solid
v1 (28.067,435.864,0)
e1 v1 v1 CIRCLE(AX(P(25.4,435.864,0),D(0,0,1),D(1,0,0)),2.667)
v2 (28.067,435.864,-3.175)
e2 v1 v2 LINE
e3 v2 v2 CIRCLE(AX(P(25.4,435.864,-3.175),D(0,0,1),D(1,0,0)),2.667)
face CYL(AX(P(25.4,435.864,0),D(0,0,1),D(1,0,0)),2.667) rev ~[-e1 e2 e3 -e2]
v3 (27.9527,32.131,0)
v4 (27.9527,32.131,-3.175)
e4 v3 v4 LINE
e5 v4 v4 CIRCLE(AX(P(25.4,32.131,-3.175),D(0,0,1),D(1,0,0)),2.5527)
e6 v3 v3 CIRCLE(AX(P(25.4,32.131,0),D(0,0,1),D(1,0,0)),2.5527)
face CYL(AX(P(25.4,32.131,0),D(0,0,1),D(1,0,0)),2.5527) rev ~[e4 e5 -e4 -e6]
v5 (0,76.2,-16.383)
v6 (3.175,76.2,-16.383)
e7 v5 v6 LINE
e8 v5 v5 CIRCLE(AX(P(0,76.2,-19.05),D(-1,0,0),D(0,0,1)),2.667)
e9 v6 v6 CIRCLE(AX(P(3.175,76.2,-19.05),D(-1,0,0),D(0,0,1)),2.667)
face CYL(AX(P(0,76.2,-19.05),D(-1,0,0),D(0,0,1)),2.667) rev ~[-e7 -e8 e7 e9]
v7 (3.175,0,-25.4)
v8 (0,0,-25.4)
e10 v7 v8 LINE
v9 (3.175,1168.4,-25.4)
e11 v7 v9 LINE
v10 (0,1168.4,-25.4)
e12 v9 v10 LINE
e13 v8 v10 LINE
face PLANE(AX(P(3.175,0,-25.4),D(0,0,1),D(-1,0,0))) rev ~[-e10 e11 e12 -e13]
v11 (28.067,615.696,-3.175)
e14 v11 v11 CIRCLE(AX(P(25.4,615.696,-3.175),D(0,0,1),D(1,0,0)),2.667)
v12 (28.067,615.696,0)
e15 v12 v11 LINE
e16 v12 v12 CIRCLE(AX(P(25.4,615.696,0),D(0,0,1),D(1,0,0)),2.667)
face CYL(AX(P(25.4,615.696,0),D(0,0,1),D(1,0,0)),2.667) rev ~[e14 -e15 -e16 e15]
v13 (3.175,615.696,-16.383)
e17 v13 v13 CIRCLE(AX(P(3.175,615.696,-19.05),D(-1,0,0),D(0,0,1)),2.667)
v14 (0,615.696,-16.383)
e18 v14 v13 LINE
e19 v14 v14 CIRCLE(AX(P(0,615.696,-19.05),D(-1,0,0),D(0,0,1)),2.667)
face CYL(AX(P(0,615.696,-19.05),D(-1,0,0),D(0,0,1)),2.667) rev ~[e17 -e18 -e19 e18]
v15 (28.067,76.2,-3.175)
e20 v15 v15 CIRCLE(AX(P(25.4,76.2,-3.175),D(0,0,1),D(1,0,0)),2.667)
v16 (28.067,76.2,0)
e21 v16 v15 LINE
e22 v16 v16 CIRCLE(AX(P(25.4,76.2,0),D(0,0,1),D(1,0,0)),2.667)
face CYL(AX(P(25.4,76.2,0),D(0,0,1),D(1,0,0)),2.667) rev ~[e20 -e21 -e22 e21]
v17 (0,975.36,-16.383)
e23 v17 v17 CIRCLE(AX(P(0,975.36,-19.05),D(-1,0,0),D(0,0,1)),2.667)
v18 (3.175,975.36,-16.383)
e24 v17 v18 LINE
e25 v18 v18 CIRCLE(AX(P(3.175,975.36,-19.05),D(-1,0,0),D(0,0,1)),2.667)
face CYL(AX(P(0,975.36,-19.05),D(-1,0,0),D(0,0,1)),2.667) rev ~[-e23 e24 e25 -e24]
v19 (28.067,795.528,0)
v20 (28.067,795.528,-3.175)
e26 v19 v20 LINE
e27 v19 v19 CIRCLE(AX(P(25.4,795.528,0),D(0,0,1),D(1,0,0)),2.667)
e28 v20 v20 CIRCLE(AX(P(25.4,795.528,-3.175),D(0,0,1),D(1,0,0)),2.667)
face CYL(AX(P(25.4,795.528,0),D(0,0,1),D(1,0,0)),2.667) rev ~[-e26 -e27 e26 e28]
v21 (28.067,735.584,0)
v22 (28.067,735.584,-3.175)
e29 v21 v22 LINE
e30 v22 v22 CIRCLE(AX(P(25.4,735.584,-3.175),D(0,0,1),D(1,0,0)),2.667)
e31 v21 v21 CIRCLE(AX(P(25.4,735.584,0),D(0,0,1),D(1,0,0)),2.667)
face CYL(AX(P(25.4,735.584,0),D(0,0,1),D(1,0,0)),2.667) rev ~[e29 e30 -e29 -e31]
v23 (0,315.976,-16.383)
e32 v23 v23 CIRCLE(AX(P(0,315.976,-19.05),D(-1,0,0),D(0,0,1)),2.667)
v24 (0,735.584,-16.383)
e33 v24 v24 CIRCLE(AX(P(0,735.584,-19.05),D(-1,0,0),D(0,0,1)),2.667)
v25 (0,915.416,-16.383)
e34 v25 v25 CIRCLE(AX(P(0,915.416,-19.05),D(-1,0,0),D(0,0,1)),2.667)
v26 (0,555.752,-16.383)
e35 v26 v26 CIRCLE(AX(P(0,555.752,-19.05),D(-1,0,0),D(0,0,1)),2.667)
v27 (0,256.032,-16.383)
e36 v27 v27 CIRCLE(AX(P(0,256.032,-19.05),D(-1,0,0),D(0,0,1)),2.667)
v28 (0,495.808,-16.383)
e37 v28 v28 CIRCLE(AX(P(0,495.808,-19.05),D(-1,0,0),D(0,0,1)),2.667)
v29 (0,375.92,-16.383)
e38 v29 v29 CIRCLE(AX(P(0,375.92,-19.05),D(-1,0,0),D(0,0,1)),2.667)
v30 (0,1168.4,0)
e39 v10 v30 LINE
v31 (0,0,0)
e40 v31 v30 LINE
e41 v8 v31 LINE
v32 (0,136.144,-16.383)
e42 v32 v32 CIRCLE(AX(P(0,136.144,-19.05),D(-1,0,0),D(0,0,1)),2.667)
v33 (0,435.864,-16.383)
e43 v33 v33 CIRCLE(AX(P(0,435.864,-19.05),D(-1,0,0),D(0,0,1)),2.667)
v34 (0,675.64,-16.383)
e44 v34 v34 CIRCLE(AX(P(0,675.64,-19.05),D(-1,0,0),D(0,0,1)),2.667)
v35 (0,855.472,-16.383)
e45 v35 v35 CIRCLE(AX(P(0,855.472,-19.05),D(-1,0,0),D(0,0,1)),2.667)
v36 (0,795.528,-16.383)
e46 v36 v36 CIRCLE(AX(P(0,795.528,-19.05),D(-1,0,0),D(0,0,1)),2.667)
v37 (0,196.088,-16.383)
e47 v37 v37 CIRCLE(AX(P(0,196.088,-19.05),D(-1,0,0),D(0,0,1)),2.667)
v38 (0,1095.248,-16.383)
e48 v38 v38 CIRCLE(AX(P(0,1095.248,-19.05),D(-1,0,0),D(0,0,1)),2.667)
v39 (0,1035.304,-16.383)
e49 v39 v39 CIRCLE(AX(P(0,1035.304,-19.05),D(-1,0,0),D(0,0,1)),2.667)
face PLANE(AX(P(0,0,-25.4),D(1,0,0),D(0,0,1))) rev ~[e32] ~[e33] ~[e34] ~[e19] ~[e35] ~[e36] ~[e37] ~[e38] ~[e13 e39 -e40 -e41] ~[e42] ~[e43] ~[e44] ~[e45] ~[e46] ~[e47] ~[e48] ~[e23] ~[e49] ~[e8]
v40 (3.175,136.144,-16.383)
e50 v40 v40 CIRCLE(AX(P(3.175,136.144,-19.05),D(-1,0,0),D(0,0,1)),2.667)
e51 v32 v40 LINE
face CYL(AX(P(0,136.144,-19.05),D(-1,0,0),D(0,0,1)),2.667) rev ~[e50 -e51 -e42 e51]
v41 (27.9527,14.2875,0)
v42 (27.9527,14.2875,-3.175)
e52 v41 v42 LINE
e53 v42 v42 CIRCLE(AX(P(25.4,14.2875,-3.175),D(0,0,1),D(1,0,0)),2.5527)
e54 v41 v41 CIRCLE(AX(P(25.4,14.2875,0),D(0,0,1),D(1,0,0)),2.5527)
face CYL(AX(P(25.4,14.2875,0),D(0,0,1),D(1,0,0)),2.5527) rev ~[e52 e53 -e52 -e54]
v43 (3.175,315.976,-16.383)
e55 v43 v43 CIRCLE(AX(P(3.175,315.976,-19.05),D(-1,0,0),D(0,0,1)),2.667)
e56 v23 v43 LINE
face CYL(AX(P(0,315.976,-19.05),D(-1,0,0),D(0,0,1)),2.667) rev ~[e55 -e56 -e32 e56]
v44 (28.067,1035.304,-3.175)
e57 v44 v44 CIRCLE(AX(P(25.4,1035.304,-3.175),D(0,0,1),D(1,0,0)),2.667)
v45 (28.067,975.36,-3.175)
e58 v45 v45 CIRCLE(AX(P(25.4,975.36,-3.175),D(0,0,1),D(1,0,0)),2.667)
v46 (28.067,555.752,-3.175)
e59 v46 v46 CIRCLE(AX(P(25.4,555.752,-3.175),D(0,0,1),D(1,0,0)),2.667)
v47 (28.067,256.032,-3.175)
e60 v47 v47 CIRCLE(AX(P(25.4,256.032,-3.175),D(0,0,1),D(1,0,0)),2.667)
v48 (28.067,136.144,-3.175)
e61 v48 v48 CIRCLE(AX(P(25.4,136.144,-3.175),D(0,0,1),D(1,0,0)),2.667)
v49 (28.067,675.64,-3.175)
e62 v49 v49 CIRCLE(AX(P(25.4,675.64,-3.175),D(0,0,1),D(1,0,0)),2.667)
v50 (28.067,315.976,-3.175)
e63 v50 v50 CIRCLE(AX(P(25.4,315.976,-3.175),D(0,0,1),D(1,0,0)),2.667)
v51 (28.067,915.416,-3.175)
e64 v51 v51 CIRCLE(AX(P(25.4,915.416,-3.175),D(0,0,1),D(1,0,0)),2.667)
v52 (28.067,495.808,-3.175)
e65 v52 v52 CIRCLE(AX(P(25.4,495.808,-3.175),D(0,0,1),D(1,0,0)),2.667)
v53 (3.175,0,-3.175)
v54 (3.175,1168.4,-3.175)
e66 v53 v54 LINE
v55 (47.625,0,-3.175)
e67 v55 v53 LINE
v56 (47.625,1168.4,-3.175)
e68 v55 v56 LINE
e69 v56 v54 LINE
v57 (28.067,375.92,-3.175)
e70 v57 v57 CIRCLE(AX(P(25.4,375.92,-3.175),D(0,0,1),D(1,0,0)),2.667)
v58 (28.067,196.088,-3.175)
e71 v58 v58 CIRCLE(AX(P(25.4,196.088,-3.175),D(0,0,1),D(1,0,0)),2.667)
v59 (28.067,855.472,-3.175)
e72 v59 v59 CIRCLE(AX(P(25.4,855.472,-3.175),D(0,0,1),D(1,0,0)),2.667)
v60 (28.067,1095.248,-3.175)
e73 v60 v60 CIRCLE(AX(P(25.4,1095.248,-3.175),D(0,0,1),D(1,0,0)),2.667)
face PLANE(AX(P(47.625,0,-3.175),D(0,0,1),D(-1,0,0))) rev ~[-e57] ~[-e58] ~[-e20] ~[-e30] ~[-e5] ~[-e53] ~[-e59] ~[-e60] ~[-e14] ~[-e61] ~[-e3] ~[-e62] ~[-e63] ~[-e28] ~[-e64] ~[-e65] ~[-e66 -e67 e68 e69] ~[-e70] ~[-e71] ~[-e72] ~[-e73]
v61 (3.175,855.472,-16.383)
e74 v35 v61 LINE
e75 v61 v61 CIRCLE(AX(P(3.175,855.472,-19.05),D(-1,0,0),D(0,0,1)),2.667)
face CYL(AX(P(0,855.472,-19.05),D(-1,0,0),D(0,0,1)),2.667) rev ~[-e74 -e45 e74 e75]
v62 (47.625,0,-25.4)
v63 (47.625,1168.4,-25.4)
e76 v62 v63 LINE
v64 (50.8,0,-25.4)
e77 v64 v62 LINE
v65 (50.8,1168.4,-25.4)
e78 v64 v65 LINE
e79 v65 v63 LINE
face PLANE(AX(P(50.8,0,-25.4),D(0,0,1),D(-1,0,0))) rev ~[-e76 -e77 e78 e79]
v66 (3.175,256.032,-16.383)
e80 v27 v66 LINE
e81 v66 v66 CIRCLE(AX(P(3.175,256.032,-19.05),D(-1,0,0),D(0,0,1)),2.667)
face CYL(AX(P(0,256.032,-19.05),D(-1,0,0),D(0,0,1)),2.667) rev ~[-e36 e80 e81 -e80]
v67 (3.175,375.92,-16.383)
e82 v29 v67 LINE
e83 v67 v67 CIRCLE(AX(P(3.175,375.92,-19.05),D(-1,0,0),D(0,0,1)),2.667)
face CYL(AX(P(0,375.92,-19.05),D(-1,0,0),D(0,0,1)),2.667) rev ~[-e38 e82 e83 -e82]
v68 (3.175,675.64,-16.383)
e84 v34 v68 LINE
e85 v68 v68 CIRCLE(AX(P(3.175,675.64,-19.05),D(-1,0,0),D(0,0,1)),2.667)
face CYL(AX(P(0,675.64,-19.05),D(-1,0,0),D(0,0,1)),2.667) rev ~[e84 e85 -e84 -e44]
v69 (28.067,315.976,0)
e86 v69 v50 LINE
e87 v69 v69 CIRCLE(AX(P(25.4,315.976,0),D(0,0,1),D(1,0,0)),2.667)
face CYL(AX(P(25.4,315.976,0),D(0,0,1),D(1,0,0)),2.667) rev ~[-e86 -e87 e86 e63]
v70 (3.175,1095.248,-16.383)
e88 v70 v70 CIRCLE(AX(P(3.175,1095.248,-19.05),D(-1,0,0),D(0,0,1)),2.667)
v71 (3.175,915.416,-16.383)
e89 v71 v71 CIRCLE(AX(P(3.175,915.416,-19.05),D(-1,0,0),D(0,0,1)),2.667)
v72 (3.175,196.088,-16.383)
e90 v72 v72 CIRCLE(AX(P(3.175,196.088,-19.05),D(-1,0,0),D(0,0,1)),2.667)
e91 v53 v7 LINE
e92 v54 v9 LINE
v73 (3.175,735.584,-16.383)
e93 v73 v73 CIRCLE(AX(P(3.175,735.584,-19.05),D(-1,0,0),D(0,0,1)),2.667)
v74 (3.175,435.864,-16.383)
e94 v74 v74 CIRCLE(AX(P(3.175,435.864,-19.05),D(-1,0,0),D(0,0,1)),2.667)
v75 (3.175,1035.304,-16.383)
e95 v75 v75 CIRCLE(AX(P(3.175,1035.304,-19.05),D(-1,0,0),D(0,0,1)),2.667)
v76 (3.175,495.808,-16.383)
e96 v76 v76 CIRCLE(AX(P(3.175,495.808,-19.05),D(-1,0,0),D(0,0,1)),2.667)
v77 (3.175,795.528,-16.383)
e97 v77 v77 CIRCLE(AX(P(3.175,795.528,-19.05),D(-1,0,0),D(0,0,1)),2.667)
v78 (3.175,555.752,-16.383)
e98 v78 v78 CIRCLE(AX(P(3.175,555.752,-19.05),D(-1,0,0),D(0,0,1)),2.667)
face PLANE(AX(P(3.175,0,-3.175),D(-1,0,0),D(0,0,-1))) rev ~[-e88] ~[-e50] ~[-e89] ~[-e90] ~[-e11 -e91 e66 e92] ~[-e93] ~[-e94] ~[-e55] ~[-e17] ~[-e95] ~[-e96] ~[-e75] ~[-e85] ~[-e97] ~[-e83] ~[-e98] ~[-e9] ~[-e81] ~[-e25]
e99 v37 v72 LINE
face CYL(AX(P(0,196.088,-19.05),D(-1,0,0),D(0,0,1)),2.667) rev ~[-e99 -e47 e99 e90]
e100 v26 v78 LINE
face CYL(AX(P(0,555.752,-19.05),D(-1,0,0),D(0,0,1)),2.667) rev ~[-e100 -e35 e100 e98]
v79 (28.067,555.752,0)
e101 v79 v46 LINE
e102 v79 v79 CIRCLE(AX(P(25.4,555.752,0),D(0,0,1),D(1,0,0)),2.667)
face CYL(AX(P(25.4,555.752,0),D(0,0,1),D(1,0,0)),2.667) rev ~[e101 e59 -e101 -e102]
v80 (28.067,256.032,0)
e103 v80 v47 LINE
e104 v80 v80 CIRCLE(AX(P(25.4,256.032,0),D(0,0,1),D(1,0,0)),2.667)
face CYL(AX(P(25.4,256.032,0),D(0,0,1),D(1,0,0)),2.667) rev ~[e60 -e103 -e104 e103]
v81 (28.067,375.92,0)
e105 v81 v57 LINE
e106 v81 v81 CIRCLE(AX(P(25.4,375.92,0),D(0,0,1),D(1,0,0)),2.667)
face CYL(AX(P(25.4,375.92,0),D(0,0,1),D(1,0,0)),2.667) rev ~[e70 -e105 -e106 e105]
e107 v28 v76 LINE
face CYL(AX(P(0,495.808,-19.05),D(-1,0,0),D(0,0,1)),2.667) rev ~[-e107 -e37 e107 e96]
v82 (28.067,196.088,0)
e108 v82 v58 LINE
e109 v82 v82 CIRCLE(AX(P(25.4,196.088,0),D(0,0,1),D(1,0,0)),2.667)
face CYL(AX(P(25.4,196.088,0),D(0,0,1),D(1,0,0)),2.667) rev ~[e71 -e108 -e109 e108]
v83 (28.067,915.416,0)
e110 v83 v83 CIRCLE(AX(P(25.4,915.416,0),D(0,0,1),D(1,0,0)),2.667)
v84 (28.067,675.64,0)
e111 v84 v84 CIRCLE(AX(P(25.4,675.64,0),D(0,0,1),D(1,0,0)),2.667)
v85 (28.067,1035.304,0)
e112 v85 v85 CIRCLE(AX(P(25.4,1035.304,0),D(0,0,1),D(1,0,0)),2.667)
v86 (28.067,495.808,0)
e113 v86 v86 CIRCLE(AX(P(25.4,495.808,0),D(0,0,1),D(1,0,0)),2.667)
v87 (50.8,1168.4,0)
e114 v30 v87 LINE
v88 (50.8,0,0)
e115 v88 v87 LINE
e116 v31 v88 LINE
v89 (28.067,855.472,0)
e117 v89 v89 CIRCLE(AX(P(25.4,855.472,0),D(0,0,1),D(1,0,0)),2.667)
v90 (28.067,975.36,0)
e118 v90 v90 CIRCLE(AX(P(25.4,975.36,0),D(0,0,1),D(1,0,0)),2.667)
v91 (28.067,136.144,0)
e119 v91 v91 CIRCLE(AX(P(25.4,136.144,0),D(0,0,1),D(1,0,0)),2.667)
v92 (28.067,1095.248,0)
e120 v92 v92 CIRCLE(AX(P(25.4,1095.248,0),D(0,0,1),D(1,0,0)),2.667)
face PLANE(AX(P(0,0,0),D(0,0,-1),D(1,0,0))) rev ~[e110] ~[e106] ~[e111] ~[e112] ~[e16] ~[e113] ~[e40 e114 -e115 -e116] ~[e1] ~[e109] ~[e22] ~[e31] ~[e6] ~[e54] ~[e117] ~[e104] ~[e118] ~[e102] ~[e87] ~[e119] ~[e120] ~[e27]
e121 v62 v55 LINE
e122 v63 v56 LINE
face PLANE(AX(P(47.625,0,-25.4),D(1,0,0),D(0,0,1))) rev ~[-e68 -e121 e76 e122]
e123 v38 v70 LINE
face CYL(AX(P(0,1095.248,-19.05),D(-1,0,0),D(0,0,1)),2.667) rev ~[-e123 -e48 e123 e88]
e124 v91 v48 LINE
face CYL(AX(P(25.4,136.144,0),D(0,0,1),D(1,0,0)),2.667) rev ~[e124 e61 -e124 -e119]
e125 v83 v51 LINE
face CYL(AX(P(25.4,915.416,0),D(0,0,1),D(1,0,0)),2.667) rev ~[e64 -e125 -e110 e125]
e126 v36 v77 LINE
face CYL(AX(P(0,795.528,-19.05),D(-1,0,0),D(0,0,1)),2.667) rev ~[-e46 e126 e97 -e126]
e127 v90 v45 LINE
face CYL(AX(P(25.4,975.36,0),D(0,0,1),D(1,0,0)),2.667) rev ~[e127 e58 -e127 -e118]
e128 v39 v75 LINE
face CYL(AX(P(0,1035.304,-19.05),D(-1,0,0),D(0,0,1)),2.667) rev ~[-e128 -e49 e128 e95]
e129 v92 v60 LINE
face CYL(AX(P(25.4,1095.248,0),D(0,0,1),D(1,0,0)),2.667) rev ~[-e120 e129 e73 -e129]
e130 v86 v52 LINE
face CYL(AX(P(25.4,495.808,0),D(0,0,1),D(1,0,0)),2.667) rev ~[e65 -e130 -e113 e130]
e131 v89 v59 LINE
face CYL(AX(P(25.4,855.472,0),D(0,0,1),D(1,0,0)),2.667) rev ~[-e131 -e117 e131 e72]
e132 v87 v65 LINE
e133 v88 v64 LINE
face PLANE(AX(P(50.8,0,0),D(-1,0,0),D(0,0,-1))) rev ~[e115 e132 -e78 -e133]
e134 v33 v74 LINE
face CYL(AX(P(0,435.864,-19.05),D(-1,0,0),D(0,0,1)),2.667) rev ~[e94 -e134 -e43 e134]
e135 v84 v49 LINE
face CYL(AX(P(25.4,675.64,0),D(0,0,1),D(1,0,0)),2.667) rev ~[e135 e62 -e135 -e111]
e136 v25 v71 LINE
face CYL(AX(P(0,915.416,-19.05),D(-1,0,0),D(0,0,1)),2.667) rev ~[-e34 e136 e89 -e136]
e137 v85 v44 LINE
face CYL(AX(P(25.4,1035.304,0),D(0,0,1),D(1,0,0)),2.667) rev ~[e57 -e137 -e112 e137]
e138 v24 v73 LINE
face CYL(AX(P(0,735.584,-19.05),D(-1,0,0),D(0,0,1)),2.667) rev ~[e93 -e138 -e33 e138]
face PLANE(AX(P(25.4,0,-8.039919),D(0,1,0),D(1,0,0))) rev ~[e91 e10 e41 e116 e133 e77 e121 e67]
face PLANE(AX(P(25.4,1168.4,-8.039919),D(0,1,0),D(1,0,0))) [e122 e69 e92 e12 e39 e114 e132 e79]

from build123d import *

# Parameters (mm, degrees)
BOSS_EXTRUDE1_DEPTH = 1168.4
CUT_EXTRUDE1_REACH  = 27.4
SKETCH2_R           = 2.667
CUT_EXTRUDE2_REACH  = 27.4
SKETCH3_R           = 2.5527
CUT_EXTRUDE3_REACH  = 52.8
SKETCH4_R           = 2.667


with BuildPart() as part:
    # Sketch1 → Boss-Extrude1 (new body)
    with BuildSketch(Plane(origin=(0, 0, 0), x_dir=(1, 0, 0), z_dir=(0, 1, 0))):
        Polygon((3.175, 3.175), (3.175, 25.4), (0, 25.4), (0, 0), (50.8, 0), (50.8, 25.4), (47.625, 25.4), (47.625, 3.175), align=None)
    extrude(amount=BOSS_EXTRUDE1_DEPTH)

    # Sketch2 → Cut-Extrude1 (cut, up to next)
    with BuildSketch(Plane.XY, mode=Mode.PRIVATE) as cut_extrude1_sk1:
        with Locations((25.4, 76.2)):
            Circle(SKETCH2_R)
    cut_extrude1_tool1 = extrude(cut_extrude1_sk1.sketch, amount=-CUT_EXTRUDE1_REACH, mode=Mode.PRIVATE) & part.part
    add(cut_extrude1_tool1.solids().sort_by_distance((25.4, 76.2, 0))[0], mode=Mode.SUBTRACT)
    # Sketch2 → Cut-Extrude1 (cut, up to next)
    with BuildSketch(Plane.XY, mode=Mode.PRIVATE) as cut_extrude1_sk2:
        with Locations((25.4, 136.144)):
            Circle(SKETCH2_R)
    cut_extrude1_tool2 = extrude(cut_extrude1_sk2.sketch, amount=-CUT_EXTRUDE1_REACH, mode=Mode.PRIVATE) & part.part
    add(cut_extrude1_tool2.solids().sort_by_distance((25.4, 136.144, 0))[0], mode=Mode.SUBTRACT)
    # Sketch2 → Cut-Extrude1 (cut, up to next)
    with BuildSketch(Plane.XY, mode=Mode.PRIVATE) as cut_extrude1_sk3:
        with Locations((25.4, 196.088)):
            Circle(SKETCH2_R)
    cut_extrude1_tool3 = extrude(cut_extrude1_sk3.sketch, amount=-CUT_EXTRUDE1_REACH, mode=Mode.PRIVATE) & part.part
    add(cut_extrude1_tool3.solids().sort_by_distance((25.4, 196.088, 0))[0], mode=Mode.SUBTRACT)
    # Sketch2 → Cut-Extrude1 (cut, up to next)
    with BuildSketch(Plane.XY, mode=Mode.PRIVATE) as cut_extrude1_sk4:
        with Locations((25.4, 256.032)):
            Circle(SKETCH2_R)
    cut_extrude1_tool4 = extrude(cut_extrude1_sk4.sketch, amount=-CUT_EXTRUDE1_REACH, mode=Mode.PRIVATE) & part.part
    add(cut_extrude1_tool4.solids().sort_by_distance((25.4, 256.032, 0))[0], mode=Mode.SUBTRACT)
    # Sketch2 → Cut-Extrude1 (cut, up to next)
    with BuildSketch(Plane.XY, mode=Mode.PRIVATE) as cut_extrude1_sk5:
        with Locations((25.4, 315.976)):
            Circle(SKETCH2_R)
    cut_extrude1_tool5 = extrude(cut_extrude1_sk5.sketch, amount=-CUT_EXTRUDE1_REACH, mode=Mode.PRIVATE) & part.part
    add(cut_extrude1_tool5.solids().sort_by_distance((25.4, 315.976, 0))[0], mode=Mode.SUBTRACT)
    # Sketch2 → Cut-Extrude1 (cut, up to next)
    with BuildSketch(Plane.XY, mode=Mode.PRIVATE) as cut_extrude1_sk6:
        with Locations((25.4, 375.92)):
            Circle(SKETCH2_R)
    cut_extrude1_tool6 = extrude(cut_extrude1_sk6.sketch, amount=-CUT_EXTRUDE1_REACH, mode=Mode.PRIVATE) & part.part
    add(cut_extrude1_tool6.solids().sort_by_distance((25.4, 375.92, 0))[0], mode=Mode.SUBTRACT)
    # Sketch2 → Cut-Extrude1 (cut, up to next)
    with BuildSketch(Plane.XY, mode=Mode.PRIVATE) as cut_extrude1_sk7:
        with Locations((25.4, 435.864)):
            Circle(SKETCH2_R)
    cut_extrude1_tool7 = extrude(cut_extrude1_sk7.sketch, amount=-CUT_EXTRUDE1_REACH, mode=Mode.PRIVATE) & part.part
    add(cut_extrude1_tool7.solids().sort_by_distance((25.4, 435.864, 0))[0], mode=Mode.SUBTRACT)
    # Sketch2 → Cut-Extrude1 (cut, up to next)
    with BuildSketch(Plane.XY, mode=Mode.PRIVATE) as cut_extrude1_sk8:
        with Locations((25.4, 495.808)):
            Circle(SKETCH2_R)
    cut_extrude1_tool8 = extrude(cut_extrude1_sk8.sketch, amount=-CUT_EXTRUDE1_REACH, mode=Mode.PRIVATE) & part.part
    add(cut_extrude1_tool8.solids().sort_by_distance((25.4, 495.808, 0))[0], mode=Mode.SUBTRACT)
    # Sketch2 → Cut-Extrude1 (cut, up to next)
    with BuildSketch(Plane.XY, mode=Mode.PRIVATE) as cut_extrude1_sk9:
        with Locations((25.4, 555.752)):
            Circle(SKETCH2_R)
    cut_extrude1_tool9 = extrude(cut_extrude1_sk9.sketch, amount=-CUT_EXTRUDE1_REACH, mode=Mode.PRIVATE) & part.part
    add(cut_extrude1_tool9.solids().sort_by_distance((25.4, 555.752, 0))[0], mode=Mode.SUBTRACT)
    # Sketch2 → Cut-Extrude1 (cut, up to next)
    with BuildSketch(Plane.XY, mode=Mode.PRIVATE) as cut_extrude1_sk10:
        with Locations((25.4, 615.696)):
            Circle(SKETCH2_R)
    cut_extrude1_tool10 = extrude(cut_extrude1_sk10.sketch, amount=-CUT_EXTRUDE1_REACH, mode=Mode.PRIVATE) & part.part
    add(cut_extrude1_tool10.solids().sort_by_distance((25.4, 615.696, 0))[0], mode=Mode.SUBTRACT)
    # Sketch2 → Cut-Extrude1 (cut, up to next)
    with BuildSketch(Plane.XY, mode=Mode.PRIVATE) as cut_extrude1_sk11:
        with Locations((25.4, 675.64)):
            Circle(SKETCH2_R)
    cut_extrude1_tool11 = extrude(cut_extrude1_sk11.sketch, amount=-CUT_EXTRUDE1_REACH, mode=Mode.PRIVATE) & part.part
    add(cut_extrude1_tool11.solids().sort_by_distance((25.4, 675.64, 0))[0], mode=Mode.SUBTRACT)
    # Sketch2 → Cut-Extrude1 (cut, up to next)
    with BuildSketch(Plane.XY, mode=Mode.PRIVATE) as cut_extrude1_sk12:
        with Locations((25.4, 735.584)):
            Circle(SKETCH2_R)
    cut_extrude1_tool12 = extrude(cut_extrude1_sk12.sketch, amount=-CUT_EXTRUDE1_REACH, mode=Mode.PRIVATE) & part.part
    add(cut_extrude1_tool12.solids().sort_by_distance((25.4, 735.584, 0))[0], mode=Mode.SUBTRACT)
    # Sketch2 → Cut-Extrude1 (cut, up to next)
    with BuildSketch(Plane.XY, mode=Mode.PRIVATE) as cut_extrude1_sk13:
        with Locations((25.4, 795.528)):
            Circle(SKETCH2_R)
    cut_extrude1_tool13 = extrude(cut_extrude1_sk13.sketch, amount=-CUT_EXTRUDE1_REACH, mode=Mode.PRIVATE) & part.part
    add(cut_extrude1_tool13.solids().sort_by_distance((25.4, 795.528, 0))[0], mode=Mode.SUBTRACT)
    # Sketch2 → Cut-Extrude1 (cut, up to next)
    with BuildSketch(Plane.XY, mode=Mode.PRIVATE) as cut_extrude1_sk14:
        with Locations((25.4, 855.472)):
            Circle(SKETCH2_R)
    cut_extrude1_tool14 = extrude(cut_extrude1_sk14.sketch, amount=-CUT_EXTRUDE1_REACH, mode=Mode.PRIVATE) & part.part
    add(cut_extrude1_tool14.solids().sort_by_distance((25.4, 855.472, 0))[0], mode=Mode.SUBTRACT)
    # Sketch2 → Cut-Extrude1 (cut, up to next)
    with BuildSketch(Plane.XY, mode=Mode.PRIVATE) as cut_extrude1_sk15:
        with Locations((25.4, 915.416)):
            Circle(SKETCH2_R)
    cut_extrude1_tool15 = extrude(cut_extrude1_sk15.sketch, amount=-CUT_EXTRUDE1_REACH, mode=Mode.PRIVATE) & part.part
    add(cut_extrude1_tool15.solids().sort_by_distance((25.4, 915.416, 0))[0], mode=Mode.SUBTRACT)
    # Sketch2 → Cut-Extrude1 (cut, up to next)
    with BuildSketch(Plane.XY, mode=Mode.PRIVATE) as cut_extrude1_sk16:
        with Locations((25.4, 975.36)):
            Circle(SKETCH2_R)
    cut_extrude1_tool16 = extrude(cut_extrude1_sk16.sketch, amount=-CUT_EXTRUDE1_REACH, mode=Mode.PRIVATE) & part.part
    add(cut_extrude1_tool16.solids().sort_by_distance((25.4, 975.36, 0))[0], mode=Mode.SUBTRACT)
    # Sketch2 → Cut-Extrude1 (cut, up to next)
    with BuildSketch(Plane.XY, mode=Mode.PRIVATE) as cut_extrude1_sk17:
        with Locations((25.4, 1035.304)):
            Circle(SKETCH2_R)
    cut_extrude1_tool17 = extrude(cut_extrude1_sk17.sketch, amount=-CUT_EXTRUDE1_REACH, mode=Mode.PRIVATE) & part.part
    add(cut_extrude1_tool17.solids().sort_by_distance((25.4, 1035.304, 0))[0], mode=Mode.SUBTRACT)
    # Sketch2 → Cut-Extrude1 (cut, up to next)
    with BuildSketch(Plane.XY, mode=Mode.PRIVATE) as cut_extrude1_sk18:
        with Locations((25.4, 1095.248)):
            Circle(SKETCH2_R)
    cut_extrude1_tool18 = extrude(cut_extrude1_sk18.sketch, amount=-CUT_EXTRUDE1_REACH, mode=Mode.PRIVATE) & part.part
    add(cut_extrude1_tool18.solids().sort_by_distance((25.4, 1095.248, 0))[0], mode=Mode.SUBTRACT)

    # Sketch3 → Cut-Extrude2 (cut, up to next)
    with BuildSketch(Plane.XY, mode=Mode.PRIVATE) as cut_extrude2_sk1:
        with Locations((25.4, 32.131)):
            Circle(SKETCH3_R)
    cut_extrude2_tool1 = extrude(cut_extrude2_sk1.sketch, amount=-CUT_EXTRUDE2_REACH, mode=Mode.PRIVATE) & part.part
    add(cut_extrude2_tool1.solids().sort_by_distance((25.4, 32.131, 0))[0], mode=Mode.SUBTRACT)
    # Sketch3 → Cut-Extrude2 (cut, up to next)
    with BuildSketch(Plane.XY, mode=Mode.PRIVATE) as cut_extrude2_sk2:
        with Locations((25.4, 14.2875)):
            Circle(SKETCH3_R)
    cut_extrude2_tool2 = extrude(cut_extrude2_sk2.sketch, amount=-CUT_EXTRUDE2_REACH, mode=Mode.PRIVATE) & part.part
    add(cut_extrude2_tool2.solids().sort_by_distance((25.4, 14.2875, 0))[0], mode=Mode.SUBTRACT)

    # Sketch4 → Cut-Extrude3 (cut, up to next)
    with BuildSketch(Plane.ZY, mode=Mode.PRIVATE) as cut_extrude3_sk1:
        with Locations((-19.05, 76.2)):
            Circle(SKETCH4_R)
    cut_extrude3_tool1 = extrude(cut_extrude3_sk1.sketch, amount=-CUT_EXTRUDE3_REACH, mode=Mode.PRIVATE) & part.part
    add(cut_extrude3_tool1.solids().sort_by_distance((0, 76.2, -19.05))[0], mode=Mode.SUBTRACT)
    # Sketch4 → Cut-Extrude3 (cut, up to next)
    with BuildSketch(Plane.ZY, mode=Mode.PRIVATE) as cut_extrude3_sk2:
        with Locations((-19.05, 136.144)):
            Circle(SKETCH4_R)
    cut_extrude3_tool2 = extrude(cut_extrude3_sk2.sketch, amount=-CUT_EXTRUDE3_REACH, mode=Mode.PRIVATE) & part.part
    add(cut_extrude3_tool2.solids().sort_by_distance((0, 136.144, -19.05))[0], mode=Mode.SUBTRACT)
    # Sketch4 → Cut-Extrude3 (cut, up to next)
    with BuildSketch(Plane.ZY, mode=Mode.PRIVATE) as cut_extrude3_sk3:
        with Locations((-19.05, 196.088)):
            Circle(SKETCH4_R)
    cut_extrude3_tool3 = extrude(cut_extrude3_sk3.sketch, amount=-CUT_EXTRUDE3_REACH, mode=Mode.PRIVATE) & part.part
    add(cut_extrude3_tool3.solids().sort_by_distance((0, 196.088, -19.05))[0], mode=Mode.SUBTRACT)
    # Sketch4 → Cut-Extrude3 (cut, up to next)
    with BuildSketch(Plane.ZY, mode=Mode.PRIVATE) as cut_extrude3_sk4:
        with Locations((-19.05, 256.032)):
            Circle(SKETCH4_R)
    cut_extrude3_tool4 = extrude(cut_extrude3_sk4.sketch, amount=-CUT_EXTRUDE3_REACH, mode=Mode.PRIVATE) & part.part
    add(cut_extrude3_tool4.solids().sort_by_distance((0, 256.032, -19.05))[0], mode=Mode.SUBTRACT)
    # Sketch4 → Cut-Extrude3 (cut, up to next)
    with BuildSketch(Plane.ZY, mode=Mode.PRIVATE) as cut_extrude3_sk5:
        with Locations((-19.05, 315.976)):
            Circle(SKETCH4_R)
    cut_extrude3_tool5 = extrude(cut_extrude3_sk5.sketch, amount=-CUT_EXTRUDE3_REACH, mode=Mode.PRIVATE) & part.part
    add(cut_extrude3_tool5.solids().sort_by_distance((0, 315.976, -19.05))[0], mode=Mode.SUBTRACT)
    # Sketch4 → Cut-Extrude3 (cut, up to next)
    with BuildSketch(Plane.ZY, mode=Mode.PRIVATE) as cut_extrude3_sk6:
        with Locations((-19.05, 375.92)):
            Circle(SKETCH4_R)
    cut_extrude3_tool6 = extrude(cut_extrude3_sk6.sketch, amount=-CUT_EXTRUDE3_REACH, mode=Mode.PRIVATE) & part.part
    add(cut_extrude3_tool6.solids().sort_by_distance((0, 375.92, -19.05))[0], mode=Mode.SUBTRACT)
    # Sketch4 → Cut-Extrude3 (cut, up to next)
    with BuildSketch(Plane.ZY, mode=Mode.PRIVATE) as cut_extrude3_sk7:
        with Locations((-19.05, 435.864)):
            Circle(SKETCH4_R)
    cut_extrude3_tool7 = extrude(cut_extrude3_sk7.sketch, amount=-CUT_EXTRUDE3_REACH, mode=Mode.PRIVATE) & part.part
    add(cut_extrude3_tool7.solids().sort_by_distance((0, 435.864, -19.05))[0], mode=Mode.SUBTRACT)
    # Sketch4 → Cut-Extrude3 (cut, up to next)
    with BuildSketch(Plane.ZY, mode=Mode.PRIVATE) as cut_extrude3_sk8:
        with Locations((-19.05, 495.808)):
            Circle(SKETCH4_R)
    cut_extrude3_tool8 = extrude(cut_extrude3_sk8.sketch, amount=-CUT_EXTRUDE3_REACH, mode=Mode.PRIVATE) & part.part
    add(cut_extrude3_tool8.solids().sort_by_distance((0, 495.808, -19.05))[0], mode=Mode.SUBTRACT)
    # Sketch4 → Cut-Extrude3 (cut, up to next)
    with BuildSketch(Plane.ZY, mode=Mode.PRIVATE) as cut_extrude3_sk9:
        with Locations((-19.05, 555.752)):
            Circle(SKETCH4_R)
    cut_extrude3_tool9 = extrude(cut_extrude3_sk9.sketch, amount=-CUT_EXTRUDE3_REACH, mode=Mode.PRIVATE) & part.part
    add(cut_extrude3_tool9.solids().sort_by_distance((0, 555.752, -19.05))[0], mode=Mode.SUBTRACT)
    # Sketch4 → Cut-Extrude3 (cut, up to next)
    with BuildSketch(Plane.ZY, mode=Mode.PRIVATE) as cut_extrude3_sk10:
        with Locations((-19.05, 615.696)):
            Circle(SKETCH4_R)
    cut_extrude3_tool10 = extrude(cut_extrude3_sk10.sketch, amount=-CUT_EXTRUDE3_REACH, mode=Mode.PRIVATE) & part.part
    add(cut_extrude3_tool10.solids().sort_by_distance((0, 615.696, -19.05))[0], mode=Mode.SUBTRACT)
    # Sketch4 → Cut-Extrude3 (cut, up to next)
    with BuildSketch(Plane.ZY, mode=Mode.PRIVATE) as cut_extrude3_sk11:
        with Locations((-19.05, 675.64)):
            Circle(SKETCH4_R)
    cut_extrude3_tool11 = extrude(cut_extrude3_sk11.sketch, amount=-CUT_EXTRUDE3_REACH, mode=Mode.PRIVATE) & part.part
    add(cut_extrude3_tool11.solids().sort_by_distance((0, 675.64, -19.05))[0], mode=Mode.SUBTRACT)
    # Sketch4 → Cut-Extrude3 (cut, up to next)
    with BuildSketch(Plane.ZY, mode=Mode.PRIVATE) as cut_extrude3_sk12:
        with Locations((-19.05, 735.584)):
            Circle(SKETCH4_R)
    cut_extrude3_tool12 = extrude(cut_extrude3_sk12.sketch, amount=-CUT_EXTRUDE3_REACH, mode=Mode.PRIVATE) & part.part
    add(cut_extrude3_tool12.solids().sort_by_distance((0, 735.584, -19.05))[0], mode=Mode.SUBTRACT)
    # Sketch4 → Cut-Extrude3 (cut, up to next)
    with BuildSketch(Plane.ZY, mode=Mode.PRIVATE) as cut_extrude3_sk13:
        with Locations((-19.05, 795.528)):
            Circle(SKETCH4_R)
    cut_extrude3_tool13 = extrude(cut_extrude3_sk13.sketch, amount=-CUT_EXTRUDE3_REACH, mode=Mode.PRIVATE) & part.part
    add(cut_extrude3_tool13.solids().sort_by_distance((0, 795.528, -19.05))[0], mode=Mode.SUBTRACT)
    # Sketch4 → Cut-Extrude3 (cut, up to next)
    with BuildSketch(Plane.ZY, mode=Mode.PRIVATE) as cut_extrude3_sk14:
        with Locations((-19.05, 855.472)):
            Circle(SKETCH4_R)
    cut_extrude3_tool14 = extrude(cut_extrude3_sk14.sketch, amount=-CUT_EXTRUDE3_REACH, mode=Mode.PRIVATE) & part.part
    add(cut_extrude3_tool14.solids().sort_by_distance((0, 855.472, -19.05))[0], mode=Mode.SUBTRACT)
    # Sketch4 → Cut-Extrude3 (cut, up to next)
    with BuildSketch(Plane.ZY, mode=Mode.PRIVATE) as cut_extrude3_sk15:
        with Locations((-19.05, 915.416)):
            Circle(SKETCH4_R)
    cut_extrude3_tool15 = extrude(cut_extrude3_sk15.sketch, amount=-CUT_EXTRUDE3_REACH, mode=Mode.PRIVATE) & part.part
    add(cut_extrude3_tool15.solids().sort_by_distance((0, 915.416, -19.05))[0], mode=Mode.SUBTRACT)
    # Sketch4 → Cut-Extrude3 (cut, up to next)
    with BuildSketch(Plane.ZY, mode=Mode.PRIVATE) as cut_extrude3_sk16:
        with Locations((-19.05, 975.36)):
            Circle(SKETCH4_R)
    cut_extrude3_tool16 = extrude(cut_extrude3_sk16.sketch, amount=-CUT_EXTRUDE3_REACH, mode=Mode.PRIVATE) & part.part
    add(cut_extrude3_tool16.solids().sort_by_distance((0, 975.36, -19.05))[0], mode=Mode.SUBTRACT)
    # Sketch4 → Cut-Extrude3 (cut, up to next)
    with BuildSketch(Plane.ZY, mode=Mode.PRIVATE) as cut_extrude3_sk17:
        with Locations((-19.05, 1035.304)):
            Circle(SKETCH4_R)
    cut_extrude3_tool17 = extrude(cut_extrude3_sk17.sketch, amount=-CUT_EXTRUDE3_REACH, mode=Mode.PRIVATE) & part.part
    add(cut_extrude3_tool17.solids().sort_by_distance((0, 1035.304, -19.05))[0], mode=Mode.SUBTRACT)
    # Sketch4 → Cut-Extrude3 (cut, up to next)
    with BuildSketch(Plane.ZY, mode=Mode.PRIVATE) as cut_extrude3_sk18:
        with Locations((-19.05, 1095.248)):
            Circle(SKETCH4_R)
    cut_extrude3_tool18 = extrude(cut_extrude3_sk18.sketch, amount=-CUT_EXTRUDE3_REACH, mode=Mode.PRIVATE) & part.part
    add(cut_extrude3_tool18.solids().sort_by_distance((0, 1095.248, -19.05))[0], mode=Mode.SUBTRACT)


solid = part.part
